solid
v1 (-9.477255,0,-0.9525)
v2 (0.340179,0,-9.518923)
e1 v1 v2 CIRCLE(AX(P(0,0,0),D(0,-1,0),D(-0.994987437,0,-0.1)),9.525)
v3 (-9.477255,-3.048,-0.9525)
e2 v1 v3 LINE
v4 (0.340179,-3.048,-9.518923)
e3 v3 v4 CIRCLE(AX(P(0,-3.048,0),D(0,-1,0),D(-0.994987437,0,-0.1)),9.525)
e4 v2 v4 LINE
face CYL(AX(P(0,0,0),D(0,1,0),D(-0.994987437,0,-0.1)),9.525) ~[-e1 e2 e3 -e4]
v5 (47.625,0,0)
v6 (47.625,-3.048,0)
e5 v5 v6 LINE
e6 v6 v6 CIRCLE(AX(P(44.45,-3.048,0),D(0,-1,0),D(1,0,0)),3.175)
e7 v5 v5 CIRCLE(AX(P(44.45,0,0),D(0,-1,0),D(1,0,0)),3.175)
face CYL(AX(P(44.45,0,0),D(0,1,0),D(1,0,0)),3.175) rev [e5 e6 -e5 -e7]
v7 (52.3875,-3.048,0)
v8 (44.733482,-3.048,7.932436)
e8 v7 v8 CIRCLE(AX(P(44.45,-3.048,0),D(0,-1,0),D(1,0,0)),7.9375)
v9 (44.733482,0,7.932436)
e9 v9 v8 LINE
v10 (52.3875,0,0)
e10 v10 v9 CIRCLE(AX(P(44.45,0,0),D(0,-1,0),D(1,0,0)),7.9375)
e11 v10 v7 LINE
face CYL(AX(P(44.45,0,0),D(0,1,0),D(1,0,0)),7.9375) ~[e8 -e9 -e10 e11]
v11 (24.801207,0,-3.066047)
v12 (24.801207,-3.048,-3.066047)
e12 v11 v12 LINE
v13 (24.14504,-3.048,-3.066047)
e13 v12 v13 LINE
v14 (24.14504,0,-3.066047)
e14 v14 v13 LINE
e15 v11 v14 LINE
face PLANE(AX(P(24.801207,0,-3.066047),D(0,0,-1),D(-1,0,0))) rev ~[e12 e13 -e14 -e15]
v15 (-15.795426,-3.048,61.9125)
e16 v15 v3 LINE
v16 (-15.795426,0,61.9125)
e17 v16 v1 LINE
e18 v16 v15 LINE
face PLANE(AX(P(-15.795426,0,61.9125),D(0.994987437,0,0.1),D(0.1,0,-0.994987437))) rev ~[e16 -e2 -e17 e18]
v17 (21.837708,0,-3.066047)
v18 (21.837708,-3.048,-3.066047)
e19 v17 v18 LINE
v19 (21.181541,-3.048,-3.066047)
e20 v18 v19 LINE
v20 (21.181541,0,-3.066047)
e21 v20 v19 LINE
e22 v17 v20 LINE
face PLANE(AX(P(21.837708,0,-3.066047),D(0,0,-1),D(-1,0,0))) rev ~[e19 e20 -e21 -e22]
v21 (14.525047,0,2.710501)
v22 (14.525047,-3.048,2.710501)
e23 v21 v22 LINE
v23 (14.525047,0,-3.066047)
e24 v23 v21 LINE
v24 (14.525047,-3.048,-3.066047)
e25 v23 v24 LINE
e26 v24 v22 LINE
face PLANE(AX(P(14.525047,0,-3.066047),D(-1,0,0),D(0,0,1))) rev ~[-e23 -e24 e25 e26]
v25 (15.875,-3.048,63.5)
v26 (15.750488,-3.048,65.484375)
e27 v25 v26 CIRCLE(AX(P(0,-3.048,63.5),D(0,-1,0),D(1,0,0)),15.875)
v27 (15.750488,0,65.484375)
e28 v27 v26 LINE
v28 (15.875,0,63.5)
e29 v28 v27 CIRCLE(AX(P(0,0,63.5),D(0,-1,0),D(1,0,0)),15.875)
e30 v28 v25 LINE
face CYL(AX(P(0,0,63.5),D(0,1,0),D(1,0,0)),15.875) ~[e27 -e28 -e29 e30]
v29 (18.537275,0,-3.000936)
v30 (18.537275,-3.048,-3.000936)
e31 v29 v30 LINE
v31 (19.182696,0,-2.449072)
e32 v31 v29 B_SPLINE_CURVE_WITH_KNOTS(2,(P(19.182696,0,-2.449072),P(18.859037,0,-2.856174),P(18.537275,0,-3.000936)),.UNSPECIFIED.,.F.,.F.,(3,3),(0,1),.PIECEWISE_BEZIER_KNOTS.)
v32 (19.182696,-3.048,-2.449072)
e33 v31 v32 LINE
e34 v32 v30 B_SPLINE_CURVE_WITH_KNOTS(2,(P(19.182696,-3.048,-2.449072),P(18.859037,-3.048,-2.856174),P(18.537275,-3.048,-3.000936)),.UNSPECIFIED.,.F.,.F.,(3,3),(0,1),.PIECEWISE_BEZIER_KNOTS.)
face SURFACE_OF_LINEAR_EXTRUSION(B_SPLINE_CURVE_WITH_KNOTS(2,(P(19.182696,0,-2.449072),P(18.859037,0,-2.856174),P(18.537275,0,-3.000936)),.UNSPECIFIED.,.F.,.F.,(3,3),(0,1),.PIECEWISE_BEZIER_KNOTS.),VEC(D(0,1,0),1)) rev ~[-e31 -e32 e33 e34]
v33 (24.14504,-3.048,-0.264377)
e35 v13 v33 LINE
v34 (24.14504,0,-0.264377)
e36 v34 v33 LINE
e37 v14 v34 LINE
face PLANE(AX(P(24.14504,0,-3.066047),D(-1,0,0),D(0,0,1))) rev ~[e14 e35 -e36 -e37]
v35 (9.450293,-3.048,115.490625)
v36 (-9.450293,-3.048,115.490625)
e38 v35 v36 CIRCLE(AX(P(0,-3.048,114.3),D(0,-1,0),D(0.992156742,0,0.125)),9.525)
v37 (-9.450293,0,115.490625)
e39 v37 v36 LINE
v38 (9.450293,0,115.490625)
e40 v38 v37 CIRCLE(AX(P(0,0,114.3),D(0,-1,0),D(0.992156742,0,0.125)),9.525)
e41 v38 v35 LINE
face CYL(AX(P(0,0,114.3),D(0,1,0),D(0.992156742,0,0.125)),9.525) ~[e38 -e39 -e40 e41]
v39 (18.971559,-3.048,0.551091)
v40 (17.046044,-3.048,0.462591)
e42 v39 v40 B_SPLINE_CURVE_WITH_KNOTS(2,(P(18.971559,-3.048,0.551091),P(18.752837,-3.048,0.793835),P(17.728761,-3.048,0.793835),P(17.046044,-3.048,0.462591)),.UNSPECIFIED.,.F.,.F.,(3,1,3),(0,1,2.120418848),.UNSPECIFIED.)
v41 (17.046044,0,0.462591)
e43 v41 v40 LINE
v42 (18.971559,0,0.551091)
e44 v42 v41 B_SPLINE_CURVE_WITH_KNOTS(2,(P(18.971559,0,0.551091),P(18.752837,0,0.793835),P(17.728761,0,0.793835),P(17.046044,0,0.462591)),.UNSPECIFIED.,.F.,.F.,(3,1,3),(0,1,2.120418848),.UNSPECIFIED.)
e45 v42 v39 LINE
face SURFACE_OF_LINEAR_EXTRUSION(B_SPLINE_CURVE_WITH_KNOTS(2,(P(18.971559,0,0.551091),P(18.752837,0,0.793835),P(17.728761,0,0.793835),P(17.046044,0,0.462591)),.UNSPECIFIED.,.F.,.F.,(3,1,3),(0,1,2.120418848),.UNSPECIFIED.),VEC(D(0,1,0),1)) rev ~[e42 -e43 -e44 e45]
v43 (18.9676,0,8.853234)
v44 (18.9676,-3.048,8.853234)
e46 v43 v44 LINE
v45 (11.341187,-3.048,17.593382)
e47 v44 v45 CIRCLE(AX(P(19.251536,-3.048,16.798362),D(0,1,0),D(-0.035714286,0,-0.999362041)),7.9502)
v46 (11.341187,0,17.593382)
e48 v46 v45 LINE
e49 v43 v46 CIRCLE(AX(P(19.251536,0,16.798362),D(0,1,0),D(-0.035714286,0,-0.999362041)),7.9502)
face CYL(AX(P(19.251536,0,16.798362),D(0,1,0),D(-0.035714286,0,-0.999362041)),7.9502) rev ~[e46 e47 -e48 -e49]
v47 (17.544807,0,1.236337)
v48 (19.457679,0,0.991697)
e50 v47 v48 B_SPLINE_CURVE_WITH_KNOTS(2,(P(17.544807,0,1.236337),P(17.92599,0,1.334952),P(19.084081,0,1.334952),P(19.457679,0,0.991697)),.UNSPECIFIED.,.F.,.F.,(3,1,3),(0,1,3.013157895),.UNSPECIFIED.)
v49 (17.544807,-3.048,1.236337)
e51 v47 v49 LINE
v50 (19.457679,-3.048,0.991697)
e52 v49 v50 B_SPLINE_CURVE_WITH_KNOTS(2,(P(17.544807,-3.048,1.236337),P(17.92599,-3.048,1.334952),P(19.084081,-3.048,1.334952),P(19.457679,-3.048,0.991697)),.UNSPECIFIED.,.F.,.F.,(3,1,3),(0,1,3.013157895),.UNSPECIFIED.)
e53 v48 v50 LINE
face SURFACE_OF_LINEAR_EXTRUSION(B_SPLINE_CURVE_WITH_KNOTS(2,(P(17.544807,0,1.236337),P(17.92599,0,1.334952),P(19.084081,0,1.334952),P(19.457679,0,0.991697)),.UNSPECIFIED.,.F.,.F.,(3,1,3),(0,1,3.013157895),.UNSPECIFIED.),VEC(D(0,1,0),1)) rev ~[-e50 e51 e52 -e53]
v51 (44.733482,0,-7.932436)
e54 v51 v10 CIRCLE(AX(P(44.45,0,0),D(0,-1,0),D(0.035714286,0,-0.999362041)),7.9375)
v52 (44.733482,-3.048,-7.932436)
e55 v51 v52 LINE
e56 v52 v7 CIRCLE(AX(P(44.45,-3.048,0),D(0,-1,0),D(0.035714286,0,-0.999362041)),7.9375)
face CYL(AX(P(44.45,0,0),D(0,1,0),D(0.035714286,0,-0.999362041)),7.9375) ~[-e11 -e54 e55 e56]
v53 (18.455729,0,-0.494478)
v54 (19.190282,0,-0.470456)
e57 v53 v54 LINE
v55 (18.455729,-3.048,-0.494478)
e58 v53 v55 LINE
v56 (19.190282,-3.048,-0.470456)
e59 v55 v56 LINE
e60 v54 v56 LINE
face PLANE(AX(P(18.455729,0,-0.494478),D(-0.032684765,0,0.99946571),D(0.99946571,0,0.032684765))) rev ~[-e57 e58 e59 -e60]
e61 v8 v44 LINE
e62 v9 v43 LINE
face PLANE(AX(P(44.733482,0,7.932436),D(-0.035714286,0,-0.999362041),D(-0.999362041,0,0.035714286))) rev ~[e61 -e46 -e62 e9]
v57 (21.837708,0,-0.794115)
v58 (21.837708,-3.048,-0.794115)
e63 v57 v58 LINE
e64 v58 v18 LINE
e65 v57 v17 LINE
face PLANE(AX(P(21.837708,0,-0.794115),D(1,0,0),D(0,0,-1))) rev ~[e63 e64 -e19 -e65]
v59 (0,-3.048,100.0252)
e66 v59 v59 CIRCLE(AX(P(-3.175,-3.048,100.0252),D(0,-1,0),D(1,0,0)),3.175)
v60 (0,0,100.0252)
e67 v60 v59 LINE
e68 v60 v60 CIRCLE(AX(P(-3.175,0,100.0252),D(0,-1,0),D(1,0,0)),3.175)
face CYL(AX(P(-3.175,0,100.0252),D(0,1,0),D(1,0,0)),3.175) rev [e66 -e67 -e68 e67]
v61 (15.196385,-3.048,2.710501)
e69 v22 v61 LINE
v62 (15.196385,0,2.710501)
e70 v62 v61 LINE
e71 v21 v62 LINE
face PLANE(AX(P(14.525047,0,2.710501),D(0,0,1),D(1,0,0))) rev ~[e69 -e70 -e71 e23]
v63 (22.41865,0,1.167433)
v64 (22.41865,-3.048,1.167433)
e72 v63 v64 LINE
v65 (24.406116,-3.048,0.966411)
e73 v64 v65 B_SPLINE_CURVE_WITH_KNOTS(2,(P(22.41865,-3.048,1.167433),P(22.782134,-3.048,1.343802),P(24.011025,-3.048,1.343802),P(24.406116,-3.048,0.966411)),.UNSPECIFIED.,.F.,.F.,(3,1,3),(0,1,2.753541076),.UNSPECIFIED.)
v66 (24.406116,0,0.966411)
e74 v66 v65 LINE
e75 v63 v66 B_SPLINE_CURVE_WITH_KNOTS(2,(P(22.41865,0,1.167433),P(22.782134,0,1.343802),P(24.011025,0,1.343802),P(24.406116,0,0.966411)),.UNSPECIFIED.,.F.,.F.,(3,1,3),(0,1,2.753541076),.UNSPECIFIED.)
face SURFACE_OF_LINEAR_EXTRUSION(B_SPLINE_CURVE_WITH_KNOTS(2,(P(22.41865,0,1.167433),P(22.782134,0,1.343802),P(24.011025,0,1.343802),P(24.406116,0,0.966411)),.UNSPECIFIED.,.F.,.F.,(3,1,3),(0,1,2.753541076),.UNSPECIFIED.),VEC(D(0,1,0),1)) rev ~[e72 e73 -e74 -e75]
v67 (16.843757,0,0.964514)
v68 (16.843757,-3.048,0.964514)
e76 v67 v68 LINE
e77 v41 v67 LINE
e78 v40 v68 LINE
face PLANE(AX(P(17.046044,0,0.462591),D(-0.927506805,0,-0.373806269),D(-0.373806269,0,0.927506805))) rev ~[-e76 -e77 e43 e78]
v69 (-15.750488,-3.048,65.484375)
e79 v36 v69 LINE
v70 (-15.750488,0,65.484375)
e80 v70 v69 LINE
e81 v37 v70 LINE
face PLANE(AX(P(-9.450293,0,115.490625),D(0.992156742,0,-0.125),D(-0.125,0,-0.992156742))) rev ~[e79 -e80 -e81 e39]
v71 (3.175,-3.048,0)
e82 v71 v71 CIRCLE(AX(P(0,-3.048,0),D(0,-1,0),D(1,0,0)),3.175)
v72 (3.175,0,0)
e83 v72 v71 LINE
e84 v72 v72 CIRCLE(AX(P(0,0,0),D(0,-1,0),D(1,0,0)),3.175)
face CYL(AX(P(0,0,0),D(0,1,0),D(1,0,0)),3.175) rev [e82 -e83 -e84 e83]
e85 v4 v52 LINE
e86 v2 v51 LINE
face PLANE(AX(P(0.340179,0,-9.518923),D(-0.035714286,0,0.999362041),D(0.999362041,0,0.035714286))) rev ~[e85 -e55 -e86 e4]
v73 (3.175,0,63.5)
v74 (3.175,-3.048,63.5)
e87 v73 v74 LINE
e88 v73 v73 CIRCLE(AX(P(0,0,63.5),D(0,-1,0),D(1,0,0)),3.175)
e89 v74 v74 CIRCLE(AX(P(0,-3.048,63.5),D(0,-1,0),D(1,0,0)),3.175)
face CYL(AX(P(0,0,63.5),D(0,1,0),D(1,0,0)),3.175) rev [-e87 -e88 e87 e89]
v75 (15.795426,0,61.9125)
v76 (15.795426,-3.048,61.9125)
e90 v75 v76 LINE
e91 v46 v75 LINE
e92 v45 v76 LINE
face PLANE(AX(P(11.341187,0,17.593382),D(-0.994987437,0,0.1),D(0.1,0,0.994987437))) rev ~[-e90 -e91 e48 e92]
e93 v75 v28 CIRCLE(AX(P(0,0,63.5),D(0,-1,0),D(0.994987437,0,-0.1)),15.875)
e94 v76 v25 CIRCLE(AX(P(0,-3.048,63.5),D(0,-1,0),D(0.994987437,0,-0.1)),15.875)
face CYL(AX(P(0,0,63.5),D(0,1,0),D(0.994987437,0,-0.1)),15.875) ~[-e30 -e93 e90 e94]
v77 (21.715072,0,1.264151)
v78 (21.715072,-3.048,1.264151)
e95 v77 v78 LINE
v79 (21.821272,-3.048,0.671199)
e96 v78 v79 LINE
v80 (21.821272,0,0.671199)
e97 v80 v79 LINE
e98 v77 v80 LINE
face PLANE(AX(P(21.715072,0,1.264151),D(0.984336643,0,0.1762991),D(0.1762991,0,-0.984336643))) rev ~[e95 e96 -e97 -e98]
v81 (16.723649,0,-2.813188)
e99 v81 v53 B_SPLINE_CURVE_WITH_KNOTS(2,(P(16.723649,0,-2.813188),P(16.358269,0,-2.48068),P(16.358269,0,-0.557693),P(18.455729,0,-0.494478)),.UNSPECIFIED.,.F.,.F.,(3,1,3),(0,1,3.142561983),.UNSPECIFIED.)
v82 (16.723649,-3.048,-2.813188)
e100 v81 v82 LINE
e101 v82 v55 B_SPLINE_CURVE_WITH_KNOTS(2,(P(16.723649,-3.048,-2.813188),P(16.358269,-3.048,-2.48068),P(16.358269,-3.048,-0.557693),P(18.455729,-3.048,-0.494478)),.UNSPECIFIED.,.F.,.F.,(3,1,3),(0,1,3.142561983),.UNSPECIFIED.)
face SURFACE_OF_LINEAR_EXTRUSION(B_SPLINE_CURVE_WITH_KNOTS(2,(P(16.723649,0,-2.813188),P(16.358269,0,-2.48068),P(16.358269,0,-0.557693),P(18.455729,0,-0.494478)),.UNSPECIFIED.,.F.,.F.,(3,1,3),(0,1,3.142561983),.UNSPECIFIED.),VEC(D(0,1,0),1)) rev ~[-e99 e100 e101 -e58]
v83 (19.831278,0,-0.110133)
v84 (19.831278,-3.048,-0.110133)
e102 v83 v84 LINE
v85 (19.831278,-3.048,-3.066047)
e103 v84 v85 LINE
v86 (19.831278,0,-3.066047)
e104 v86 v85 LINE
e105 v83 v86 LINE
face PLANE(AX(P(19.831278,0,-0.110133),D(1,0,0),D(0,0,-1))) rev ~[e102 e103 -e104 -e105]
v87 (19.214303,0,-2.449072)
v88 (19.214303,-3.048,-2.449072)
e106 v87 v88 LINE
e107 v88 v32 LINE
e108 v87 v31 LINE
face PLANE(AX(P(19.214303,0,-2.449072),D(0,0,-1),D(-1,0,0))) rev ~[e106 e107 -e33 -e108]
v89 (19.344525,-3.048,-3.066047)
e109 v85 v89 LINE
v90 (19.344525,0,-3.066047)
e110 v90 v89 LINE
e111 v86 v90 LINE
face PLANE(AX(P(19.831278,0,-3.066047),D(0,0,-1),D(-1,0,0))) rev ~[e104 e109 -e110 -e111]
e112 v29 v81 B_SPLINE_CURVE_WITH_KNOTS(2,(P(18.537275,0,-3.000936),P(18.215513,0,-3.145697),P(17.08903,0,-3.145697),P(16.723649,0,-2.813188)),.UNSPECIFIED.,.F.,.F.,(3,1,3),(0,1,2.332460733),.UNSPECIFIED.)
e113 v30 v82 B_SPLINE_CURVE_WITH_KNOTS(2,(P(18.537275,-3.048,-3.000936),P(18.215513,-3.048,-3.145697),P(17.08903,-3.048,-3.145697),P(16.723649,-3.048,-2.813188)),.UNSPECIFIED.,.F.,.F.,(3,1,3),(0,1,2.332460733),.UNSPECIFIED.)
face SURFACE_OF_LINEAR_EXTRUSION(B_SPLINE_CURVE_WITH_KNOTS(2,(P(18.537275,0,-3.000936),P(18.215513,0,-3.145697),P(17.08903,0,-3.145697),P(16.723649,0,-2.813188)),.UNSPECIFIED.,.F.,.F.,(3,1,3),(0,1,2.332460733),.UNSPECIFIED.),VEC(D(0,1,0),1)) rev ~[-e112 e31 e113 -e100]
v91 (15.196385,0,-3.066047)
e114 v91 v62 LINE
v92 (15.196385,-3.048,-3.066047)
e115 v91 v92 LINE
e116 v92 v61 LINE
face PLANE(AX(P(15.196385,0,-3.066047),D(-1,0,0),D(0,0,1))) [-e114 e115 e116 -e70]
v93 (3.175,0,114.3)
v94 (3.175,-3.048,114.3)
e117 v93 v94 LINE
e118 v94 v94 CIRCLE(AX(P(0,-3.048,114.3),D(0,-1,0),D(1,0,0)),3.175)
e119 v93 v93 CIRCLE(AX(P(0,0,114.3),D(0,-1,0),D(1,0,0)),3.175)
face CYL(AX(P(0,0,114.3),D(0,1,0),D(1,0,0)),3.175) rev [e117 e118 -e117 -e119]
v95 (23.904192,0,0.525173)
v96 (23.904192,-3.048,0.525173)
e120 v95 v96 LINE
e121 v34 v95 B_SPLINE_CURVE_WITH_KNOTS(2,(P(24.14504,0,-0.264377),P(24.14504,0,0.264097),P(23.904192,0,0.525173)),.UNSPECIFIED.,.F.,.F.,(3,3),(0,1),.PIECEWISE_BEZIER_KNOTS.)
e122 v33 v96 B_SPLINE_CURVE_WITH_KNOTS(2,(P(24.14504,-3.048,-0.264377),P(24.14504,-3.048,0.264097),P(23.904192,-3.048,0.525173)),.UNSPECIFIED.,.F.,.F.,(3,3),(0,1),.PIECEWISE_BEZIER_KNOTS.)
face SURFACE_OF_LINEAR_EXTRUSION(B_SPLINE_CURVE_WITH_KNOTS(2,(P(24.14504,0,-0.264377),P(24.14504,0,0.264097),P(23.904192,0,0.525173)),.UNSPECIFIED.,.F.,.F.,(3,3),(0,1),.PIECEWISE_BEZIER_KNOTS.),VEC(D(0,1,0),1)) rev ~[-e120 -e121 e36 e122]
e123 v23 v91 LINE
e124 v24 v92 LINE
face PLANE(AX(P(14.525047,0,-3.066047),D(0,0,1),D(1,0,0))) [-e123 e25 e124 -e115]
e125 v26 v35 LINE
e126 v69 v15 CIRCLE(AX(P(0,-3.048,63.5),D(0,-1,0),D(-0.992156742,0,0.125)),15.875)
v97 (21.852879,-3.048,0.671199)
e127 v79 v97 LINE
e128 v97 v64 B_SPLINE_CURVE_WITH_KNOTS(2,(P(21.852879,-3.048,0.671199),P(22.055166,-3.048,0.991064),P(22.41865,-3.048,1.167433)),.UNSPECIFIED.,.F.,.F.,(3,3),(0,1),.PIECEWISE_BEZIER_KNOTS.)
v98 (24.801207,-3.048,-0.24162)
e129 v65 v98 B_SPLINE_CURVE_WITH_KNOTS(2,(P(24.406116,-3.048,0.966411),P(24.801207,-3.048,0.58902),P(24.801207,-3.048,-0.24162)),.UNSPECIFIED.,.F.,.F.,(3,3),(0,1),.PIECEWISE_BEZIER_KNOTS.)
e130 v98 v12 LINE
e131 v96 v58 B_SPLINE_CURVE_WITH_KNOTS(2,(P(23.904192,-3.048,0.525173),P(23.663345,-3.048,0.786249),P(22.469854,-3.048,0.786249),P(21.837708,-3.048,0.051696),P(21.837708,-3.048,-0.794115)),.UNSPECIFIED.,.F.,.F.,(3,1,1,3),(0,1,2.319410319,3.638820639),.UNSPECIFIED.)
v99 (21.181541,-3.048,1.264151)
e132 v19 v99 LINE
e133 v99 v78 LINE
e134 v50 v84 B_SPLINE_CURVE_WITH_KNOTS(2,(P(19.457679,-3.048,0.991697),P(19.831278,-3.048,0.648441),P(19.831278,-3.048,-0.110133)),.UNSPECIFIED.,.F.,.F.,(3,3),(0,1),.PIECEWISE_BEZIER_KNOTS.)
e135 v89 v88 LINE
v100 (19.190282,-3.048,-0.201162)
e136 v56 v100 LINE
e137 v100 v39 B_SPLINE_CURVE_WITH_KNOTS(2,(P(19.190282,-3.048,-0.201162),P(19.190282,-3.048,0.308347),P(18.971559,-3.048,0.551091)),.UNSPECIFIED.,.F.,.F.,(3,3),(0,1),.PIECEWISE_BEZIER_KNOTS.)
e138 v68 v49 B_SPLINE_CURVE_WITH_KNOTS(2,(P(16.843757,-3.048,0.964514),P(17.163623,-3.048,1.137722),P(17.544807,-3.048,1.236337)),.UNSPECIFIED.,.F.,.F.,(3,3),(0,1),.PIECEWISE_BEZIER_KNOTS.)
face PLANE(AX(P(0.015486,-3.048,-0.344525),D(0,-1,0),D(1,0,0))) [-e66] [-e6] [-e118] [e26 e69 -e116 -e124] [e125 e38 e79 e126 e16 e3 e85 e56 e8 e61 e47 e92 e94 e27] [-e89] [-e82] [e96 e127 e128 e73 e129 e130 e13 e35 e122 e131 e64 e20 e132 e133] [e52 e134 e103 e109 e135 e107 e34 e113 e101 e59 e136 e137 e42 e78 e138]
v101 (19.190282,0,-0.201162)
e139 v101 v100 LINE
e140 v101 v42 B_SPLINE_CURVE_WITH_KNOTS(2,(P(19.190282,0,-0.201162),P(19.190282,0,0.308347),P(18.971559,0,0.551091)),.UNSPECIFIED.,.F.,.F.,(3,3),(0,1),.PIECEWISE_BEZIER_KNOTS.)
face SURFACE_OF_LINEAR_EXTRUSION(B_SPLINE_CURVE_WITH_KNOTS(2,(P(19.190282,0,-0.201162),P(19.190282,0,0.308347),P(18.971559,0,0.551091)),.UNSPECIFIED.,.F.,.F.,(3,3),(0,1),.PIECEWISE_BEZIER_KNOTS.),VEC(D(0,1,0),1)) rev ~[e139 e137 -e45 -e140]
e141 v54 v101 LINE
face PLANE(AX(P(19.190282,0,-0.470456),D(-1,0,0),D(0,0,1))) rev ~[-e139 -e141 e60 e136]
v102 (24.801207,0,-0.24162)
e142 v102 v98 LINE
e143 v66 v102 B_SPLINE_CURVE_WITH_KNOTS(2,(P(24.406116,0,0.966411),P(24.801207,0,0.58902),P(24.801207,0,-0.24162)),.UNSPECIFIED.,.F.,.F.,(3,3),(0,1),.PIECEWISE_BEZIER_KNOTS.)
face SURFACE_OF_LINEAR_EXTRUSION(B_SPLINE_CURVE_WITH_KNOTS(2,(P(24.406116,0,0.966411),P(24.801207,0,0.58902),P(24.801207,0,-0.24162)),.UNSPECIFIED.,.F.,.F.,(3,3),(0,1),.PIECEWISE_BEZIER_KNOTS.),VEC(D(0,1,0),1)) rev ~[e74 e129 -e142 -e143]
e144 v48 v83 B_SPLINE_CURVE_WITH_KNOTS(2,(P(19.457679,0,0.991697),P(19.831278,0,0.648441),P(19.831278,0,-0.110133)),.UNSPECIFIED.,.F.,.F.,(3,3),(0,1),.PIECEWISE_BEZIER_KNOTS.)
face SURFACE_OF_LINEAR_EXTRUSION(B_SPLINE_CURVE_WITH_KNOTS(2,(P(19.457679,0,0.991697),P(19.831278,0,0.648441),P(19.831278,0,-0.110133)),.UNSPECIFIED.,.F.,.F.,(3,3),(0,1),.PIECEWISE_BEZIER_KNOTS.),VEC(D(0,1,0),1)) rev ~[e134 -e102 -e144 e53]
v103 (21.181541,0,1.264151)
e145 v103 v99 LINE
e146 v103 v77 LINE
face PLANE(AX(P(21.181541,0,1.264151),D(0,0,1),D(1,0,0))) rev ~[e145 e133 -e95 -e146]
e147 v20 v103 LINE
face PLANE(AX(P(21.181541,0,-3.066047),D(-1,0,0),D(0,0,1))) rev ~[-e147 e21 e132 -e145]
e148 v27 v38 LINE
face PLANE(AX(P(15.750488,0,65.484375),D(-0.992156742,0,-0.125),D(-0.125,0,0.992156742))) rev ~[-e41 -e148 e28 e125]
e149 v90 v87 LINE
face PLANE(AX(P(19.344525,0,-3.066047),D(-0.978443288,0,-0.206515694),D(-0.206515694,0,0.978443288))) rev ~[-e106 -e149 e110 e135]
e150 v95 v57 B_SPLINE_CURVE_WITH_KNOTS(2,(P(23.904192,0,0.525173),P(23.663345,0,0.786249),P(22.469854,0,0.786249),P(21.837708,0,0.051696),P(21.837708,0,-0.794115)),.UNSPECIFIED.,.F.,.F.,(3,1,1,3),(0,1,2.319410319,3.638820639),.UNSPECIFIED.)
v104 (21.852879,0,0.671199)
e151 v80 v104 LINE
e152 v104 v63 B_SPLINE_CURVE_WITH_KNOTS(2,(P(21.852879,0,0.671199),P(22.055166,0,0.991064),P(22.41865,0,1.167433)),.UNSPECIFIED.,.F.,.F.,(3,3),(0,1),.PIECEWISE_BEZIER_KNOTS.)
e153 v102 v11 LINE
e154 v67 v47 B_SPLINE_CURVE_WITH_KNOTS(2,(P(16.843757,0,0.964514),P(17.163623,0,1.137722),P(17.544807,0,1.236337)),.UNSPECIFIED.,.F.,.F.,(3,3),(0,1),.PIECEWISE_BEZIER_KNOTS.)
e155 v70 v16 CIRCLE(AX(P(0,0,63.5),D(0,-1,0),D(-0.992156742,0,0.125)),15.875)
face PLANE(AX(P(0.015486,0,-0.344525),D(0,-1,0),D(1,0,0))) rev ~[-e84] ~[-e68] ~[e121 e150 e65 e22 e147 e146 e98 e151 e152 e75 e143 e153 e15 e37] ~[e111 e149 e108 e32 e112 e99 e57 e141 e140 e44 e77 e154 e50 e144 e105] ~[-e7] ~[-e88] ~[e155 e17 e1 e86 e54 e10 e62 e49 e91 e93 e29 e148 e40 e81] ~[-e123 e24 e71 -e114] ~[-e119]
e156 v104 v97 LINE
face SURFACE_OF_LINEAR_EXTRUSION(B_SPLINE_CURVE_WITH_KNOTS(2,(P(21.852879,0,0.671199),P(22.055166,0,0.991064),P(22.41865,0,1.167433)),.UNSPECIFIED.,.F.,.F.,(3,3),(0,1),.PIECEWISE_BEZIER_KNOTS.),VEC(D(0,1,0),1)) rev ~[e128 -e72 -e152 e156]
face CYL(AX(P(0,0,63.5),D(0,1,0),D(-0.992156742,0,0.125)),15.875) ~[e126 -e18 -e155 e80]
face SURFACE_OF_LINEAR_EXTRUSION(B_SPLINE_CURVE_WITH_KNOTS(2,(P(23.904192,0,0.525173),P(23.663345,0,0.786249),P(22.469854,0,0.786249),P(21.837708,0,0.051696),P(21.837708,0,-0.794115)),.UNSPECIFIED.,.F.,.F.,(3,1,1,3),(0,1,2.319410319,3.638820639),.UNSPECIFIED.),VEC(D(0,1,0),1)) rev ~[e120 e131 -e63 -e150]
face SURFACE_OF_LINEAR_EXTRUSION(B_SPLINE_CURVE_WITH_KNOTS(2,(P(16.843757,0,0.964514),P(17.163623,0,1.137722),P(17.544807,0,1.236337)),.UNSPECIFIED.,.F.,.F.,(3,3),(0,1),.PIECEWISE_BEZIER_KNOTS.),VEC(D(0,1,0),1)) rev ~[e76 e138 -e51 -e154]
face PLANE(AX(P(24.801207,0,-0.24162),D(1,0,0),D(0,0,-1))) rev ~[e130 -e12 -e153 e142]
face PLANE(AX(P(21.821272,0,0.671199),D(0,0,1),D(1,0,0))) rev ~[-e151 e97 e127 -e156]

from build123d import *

# Parameters (mm, degrees)
F0_R     = 3.175
F0_W     = 0.6713387143
F0_H     = 5.7765472419
F1_DEPTH = 3.048


with BuildPart() as f1:
    # F0 (on Front) → F1 (new body)
    with BuildSketch(Plane.XZ):
        with BuildLine():
            ThreePointArc((0.3401785714, -9.5189234444), (6.8544082857, -6.6138273378), (9.525, 0))
            ThreePointArc((9.525, 0), (-0.4768479324, 9.5130563464), (-9.4772553384, -0.9525))
            ThreePointArc((-9.4772553384, -0.9525), (-6.2623833816, -7.1769199091), (0.3401785714, -9.5189234444))
        make_face()
        Circle(F0_R, mode=Mode.SUBTRACT)
        with BuildLine():
            ThreePointArc((-9.4772553384, -0.9525), (-0.4768479324, 9.5130563464), (9.525, 0))
            ThreePointArc((9.525, 0), (6.8544082857, -6.6138273378), (0.3401785714, -9.5189234444))
            Line((0.3401785714, -9.5189234444), (44.7334821429, -7.9324362036))
            ThreePointArc((44.7334821429, -7.9324362036), (36.5125, 0), (44.7334821429, 7.9324362036))
            Line((44.7334821429, 7.9324362036), (18.9676000005, 8.8532337108))
            ThreePointArc((18.9676000005, 8.8532337108), (13.2611998974, 11.5713591498), (11.3411865923, 17.5933818124))
            Line((11.3411865923, 17.5933818124), (15.7954255641, 61.9125))
            ThreePointArc((15.7954255641, 61.9125), (0, 47.625), (-15.7954255641, 61.9125))
            Line((-15.7954255641, 61.9125), (-9.4772553384, -0.9525))
        make_face()
        with Locations((14.8607160592, -0.1777730082)):
            Rectangle(F0_W, F0_H, mode=Mode.SUBTRACT)
        with BuildLine():
            Line((19.8312775565, -3.0660466291), (19.3445253814, -3.0660466291))
            Line((19.3445253814, -3.0660466291), (19.2143033709, -2.4490724435))
            Line((19.2143033709, -2.4490724435), (19.1826960868, -2.4490724435))
            add(Edge.make_bspline(
                [(19.1826960868, -2.4490724435), (18.8590374977, -2.8561742627), (18.5372753455, -3.0009356239)],
                knots=[0, 0, 0, 1, 1, 1], degree=2))
            add(Edge.make_bspline(
                [(18.5372753455, -3.0009356239), (18.2155131934, -3.145696985), (17.7325538924, -3.145696985)],
                knots=[0, 0, 0, 1, 1, 1], degree=2))
            add(Edge.make_bspline(
                [(17.7325538924, -3.145696985), (17.0890295881, -3.145696985), (16.7236493839, -2.8131883563)],
                knots=[0, 0, 0, 1, 1, 1], degree=2))
            add(Edge.make_bspline(
                [(16.7236493839, -2.8131883563), (16.3582691798, -2.4806797276), (16.3582691798, -1.8687627074)],
                knots=[0, 0, 0, 1, 1, 1], degree=2))
            add(Edge.make_bspline(
                [(16.3582691798, -1.8687627074), (16.3582691798, -0.557692563), (18.4557285526, -0.4944779948)],
                knots=[0, 0, 0, 1, 1, 1], degree=2))
            Line((18.4557285526, -0.4944779948), (19.190281835, -0.4704564589))
            Line((19.190281835, -0.4704564589), (19.190281835, -0.2011623984))
            add(Edge.make_bspline(
                [(19.190281835, -0.2011623984), (19.190281835, 0.3083470213), (18.971559429, 0.5510909631)],
                knots=[0, 0, 0, 1, 1, 1], degree=2))
            add(Edge.make_bspline(
                [(18.971559429, 0.5510909631), (18.7528370231, 0.793834905), (18.2698777221, 0.793834905)],
                knots=[0, 0, 0, 1, 1, 1], degree=2))
            add(Edge.make_bspline(
                [(18.2698777221, 0.793834905), (17.7287610183, 0.793834905), (17.0460436818, 0.4625905677)],
                knots=[0, 0, 0, 1, 1, 1], degree=2))
            Line((17.0460436818, 0.4625905677), (16.8437570635, 0.9645142392))
            add(Edge.make_bspline(
                [(16.8437570635, 0.9645142392), (17.1636227786, 1.137722156), (17.5448066248, 1.2363368824)],
                knots=[0, 0, 0, 1, 1, 1], degree=2))
            add(Edge.make_bspline(
                [(17.5448066248, 1.2363368824), (17.9259904711, 1.3349516088), (18.3103350457, 1.3349516088)],
                knots=[0, 0, 0, 1, 1, 1], degree=2))
            add(Edge.make_bspline(
                [(18.3103350457, 1.3349516088), (19.0840813604, 1.3349516088), (19.4576794585, 0.9916965035)],
                knots=[0, 0, 0, 1, 1, 1], degree=2))
            add(Edge.make_bspline(
                [(19.4576794585, 0.9916965035), (19.8312775565, 0.6484413982), (19.8312775565, -0.1101334202)],
                knots=[0, 0, 0, 1, 1, 1], degree=2))
            Line((19.8312775565, -0.1101334202), (19.8312775565, -3.0660466291))
        make_face(mode=Mode.SUBTRACT)
        with BuildLine():
            Line((24.8012069082, -3.0660466291), (24.1450396903, -3.0660466291))
            Line((24.1450396903, -3.0660466291), (24.1450396903, -0.2643769666))
            add(Edge.make_bspline(
                [(24.1450396903, -0.2643769666), (24.1450396903, 0.2640968235), (23.9041921855, 0.5251729902)],
                knots=[0, 0, 0, 1, 1, 1], degree=2))
            add(Edge.make_bspline(
                [(23.9041921855, 0.5251729902), (23.6633446806, 0.7862491568), (23.1487780955, 0.7862491568)],
                knots=[0, 0, 0, 1, 1, 1], degree=2))
            add(Edge.make_bspline(
                [(23.1487780955, 0.7862491568), (22.4698536331, 0.7862491568), (22.1537807921, 0.4189725156)],
                knots=[0, 0, 0, 1, 1, 1], degree=2))
            add(Edge.make_bspline(
                [(22.1537807921, 0.4189725156), (21.8377079511, 0.0516958744), (21.8377079511, -0.7941150481)],
                knots=[0, 0, 0, 1, 1, 1], degree=2))
            Line((21.8377079511, -0.7941150481), (21.8377079511, -3.0660466291))
            Line((21.8377079511, -3.0660466291), (21.1815407332, -3.0660466291))
            Line((21.1815407332, -3.0660466291), (21.1815407332, 1.2641512924))
            Line((21.1815407332, 1.2641512924), (21.7150716888, 1.2641512924))
            Line((21.7150716888, 1.2641512924), (21.8212721634, 0.6711986427))
            Line((21.8212721634, 0.6711986427), (21.8528794475, 0.6711986427))
            add(Edge.make_bspline(
                [(21.8528794475, 0.6711986427), (22.0551660657, 0.9910643578), (22.4186498328, 1.1674330031)],
                knots=[0, 0, 0, 1, 1, 1], degree=2))
            add(Edge.make_bspline(
                [(22.4186498328, 1.1674330031), (22.7821336, 1.3438016483), (23.2284284515, 1.3438016483)],
                knots=[0, 0, 0, 1, 1, 1], degree=2))
            add(Edge.make_bspline(
                [(23.2284284515, 1.3438016483), (24.0110248057, 1.3438016483), (24.406115857, 0.9664106762)],
                knots=[0, 0, 0, 1, 1, 1], degree=2))
            add(Edge.make_bspline(
                [(24.406115857, 0.9664106762), (24.8012069082, 0.5890197041), (24.8012069082, -0.241619722)],
                knots=[0, 0, 0, 1, 1, 1], degree=2))
            Line((24.8012069082, -0.241619722), (24.8012069082, -3.0660466291))
        make_face(mode=Mode.SUBTRACT)
        with BuildLine():
            ThreePointArc((-15.7504882737, 65.484375), (-15.8737438155, 63.6997054867), (-15.7954255641, 61.9125))
            ThreePointArc((-15.7954255641, 61.9125), (0, 47.625), (15.7954255641, 61.9125))
            ThreePointArc((15.7954255641, 61.9125), (15.8550939106, 62.7052534459), (15.875, 63.5))
            ThreePointArc((15.875, 63.5), (15.8438414904, 64.4941387366), (15.7504882737, 65.484375))
            ThreePointArc((15.7504882737, 65.484375), (0, 79.375), (-15.7504882737, 65.484375))
        make_face()
        with Locations((0, 63.5)):
            Circle(F0_R, mode=Mode.SUBTRACT)
        with BuildLine():
            ThreePointArc((44.7334821429, 7.9324362036), (36.5125, 0), (44.7334821429, -7.9324362036))
            ThreePointArc((44.7334821429, -7.9324362036), (50.1620069047, -5.5115227815), (52.3875, 0))
            ThreePointArc((52.3875, 0), (50.1620069047, 5.5115227815), (44.7334821429, 7.9324362036))
        make_face()
        with Locations((44.45, 0)):
            Circle(F0_R, mode=Mode.SUBTRACT)
        with BuildLine():
            Line((-9.4502929642, 115.490625), (-15.7504882737, 65.484375))
            ThreePointArc((-15.7504882737, 65.484375), (0, 79.375), (15.7504882737, 65.484375))
            Line((15.7504882737, 65.484375), (9.4502929642, 115.490625))
            ThreePointArc((9.4502929642, 115.490625), (9.5063048942, 114.896483242), (9.525, 114.3))
            ThreePointArc((9.525, 114.3), (-0.596483242, 104.7936951058), (-9.4502929642, 115.490625))
        make_face()
        with Locations((-3.175, 100.0252)):
            Circle(F0_R, mode=Mode.SUBTRACT)
        with BuildLine():
            ThreePointArc((9.4502929642, 115.490625), (0, 123.825), (-9.4502929642, 115.490625))
            ThreePointArc((-9.4502929642, 115.490625), (-0.596483242, 104.7936951058), (9.525, 114.3))
            ThreePointArc((9.525, 114.3), (9.5063048942, 114.896483242), (9.4502929642, 115.490625))
        make_face()
        with Locations((0, 114.3)):
            Circle(F0_R, mode=Mode.SUBTRACT)
    extrude(amount=F1_DEPTH)


solid = f1.part
